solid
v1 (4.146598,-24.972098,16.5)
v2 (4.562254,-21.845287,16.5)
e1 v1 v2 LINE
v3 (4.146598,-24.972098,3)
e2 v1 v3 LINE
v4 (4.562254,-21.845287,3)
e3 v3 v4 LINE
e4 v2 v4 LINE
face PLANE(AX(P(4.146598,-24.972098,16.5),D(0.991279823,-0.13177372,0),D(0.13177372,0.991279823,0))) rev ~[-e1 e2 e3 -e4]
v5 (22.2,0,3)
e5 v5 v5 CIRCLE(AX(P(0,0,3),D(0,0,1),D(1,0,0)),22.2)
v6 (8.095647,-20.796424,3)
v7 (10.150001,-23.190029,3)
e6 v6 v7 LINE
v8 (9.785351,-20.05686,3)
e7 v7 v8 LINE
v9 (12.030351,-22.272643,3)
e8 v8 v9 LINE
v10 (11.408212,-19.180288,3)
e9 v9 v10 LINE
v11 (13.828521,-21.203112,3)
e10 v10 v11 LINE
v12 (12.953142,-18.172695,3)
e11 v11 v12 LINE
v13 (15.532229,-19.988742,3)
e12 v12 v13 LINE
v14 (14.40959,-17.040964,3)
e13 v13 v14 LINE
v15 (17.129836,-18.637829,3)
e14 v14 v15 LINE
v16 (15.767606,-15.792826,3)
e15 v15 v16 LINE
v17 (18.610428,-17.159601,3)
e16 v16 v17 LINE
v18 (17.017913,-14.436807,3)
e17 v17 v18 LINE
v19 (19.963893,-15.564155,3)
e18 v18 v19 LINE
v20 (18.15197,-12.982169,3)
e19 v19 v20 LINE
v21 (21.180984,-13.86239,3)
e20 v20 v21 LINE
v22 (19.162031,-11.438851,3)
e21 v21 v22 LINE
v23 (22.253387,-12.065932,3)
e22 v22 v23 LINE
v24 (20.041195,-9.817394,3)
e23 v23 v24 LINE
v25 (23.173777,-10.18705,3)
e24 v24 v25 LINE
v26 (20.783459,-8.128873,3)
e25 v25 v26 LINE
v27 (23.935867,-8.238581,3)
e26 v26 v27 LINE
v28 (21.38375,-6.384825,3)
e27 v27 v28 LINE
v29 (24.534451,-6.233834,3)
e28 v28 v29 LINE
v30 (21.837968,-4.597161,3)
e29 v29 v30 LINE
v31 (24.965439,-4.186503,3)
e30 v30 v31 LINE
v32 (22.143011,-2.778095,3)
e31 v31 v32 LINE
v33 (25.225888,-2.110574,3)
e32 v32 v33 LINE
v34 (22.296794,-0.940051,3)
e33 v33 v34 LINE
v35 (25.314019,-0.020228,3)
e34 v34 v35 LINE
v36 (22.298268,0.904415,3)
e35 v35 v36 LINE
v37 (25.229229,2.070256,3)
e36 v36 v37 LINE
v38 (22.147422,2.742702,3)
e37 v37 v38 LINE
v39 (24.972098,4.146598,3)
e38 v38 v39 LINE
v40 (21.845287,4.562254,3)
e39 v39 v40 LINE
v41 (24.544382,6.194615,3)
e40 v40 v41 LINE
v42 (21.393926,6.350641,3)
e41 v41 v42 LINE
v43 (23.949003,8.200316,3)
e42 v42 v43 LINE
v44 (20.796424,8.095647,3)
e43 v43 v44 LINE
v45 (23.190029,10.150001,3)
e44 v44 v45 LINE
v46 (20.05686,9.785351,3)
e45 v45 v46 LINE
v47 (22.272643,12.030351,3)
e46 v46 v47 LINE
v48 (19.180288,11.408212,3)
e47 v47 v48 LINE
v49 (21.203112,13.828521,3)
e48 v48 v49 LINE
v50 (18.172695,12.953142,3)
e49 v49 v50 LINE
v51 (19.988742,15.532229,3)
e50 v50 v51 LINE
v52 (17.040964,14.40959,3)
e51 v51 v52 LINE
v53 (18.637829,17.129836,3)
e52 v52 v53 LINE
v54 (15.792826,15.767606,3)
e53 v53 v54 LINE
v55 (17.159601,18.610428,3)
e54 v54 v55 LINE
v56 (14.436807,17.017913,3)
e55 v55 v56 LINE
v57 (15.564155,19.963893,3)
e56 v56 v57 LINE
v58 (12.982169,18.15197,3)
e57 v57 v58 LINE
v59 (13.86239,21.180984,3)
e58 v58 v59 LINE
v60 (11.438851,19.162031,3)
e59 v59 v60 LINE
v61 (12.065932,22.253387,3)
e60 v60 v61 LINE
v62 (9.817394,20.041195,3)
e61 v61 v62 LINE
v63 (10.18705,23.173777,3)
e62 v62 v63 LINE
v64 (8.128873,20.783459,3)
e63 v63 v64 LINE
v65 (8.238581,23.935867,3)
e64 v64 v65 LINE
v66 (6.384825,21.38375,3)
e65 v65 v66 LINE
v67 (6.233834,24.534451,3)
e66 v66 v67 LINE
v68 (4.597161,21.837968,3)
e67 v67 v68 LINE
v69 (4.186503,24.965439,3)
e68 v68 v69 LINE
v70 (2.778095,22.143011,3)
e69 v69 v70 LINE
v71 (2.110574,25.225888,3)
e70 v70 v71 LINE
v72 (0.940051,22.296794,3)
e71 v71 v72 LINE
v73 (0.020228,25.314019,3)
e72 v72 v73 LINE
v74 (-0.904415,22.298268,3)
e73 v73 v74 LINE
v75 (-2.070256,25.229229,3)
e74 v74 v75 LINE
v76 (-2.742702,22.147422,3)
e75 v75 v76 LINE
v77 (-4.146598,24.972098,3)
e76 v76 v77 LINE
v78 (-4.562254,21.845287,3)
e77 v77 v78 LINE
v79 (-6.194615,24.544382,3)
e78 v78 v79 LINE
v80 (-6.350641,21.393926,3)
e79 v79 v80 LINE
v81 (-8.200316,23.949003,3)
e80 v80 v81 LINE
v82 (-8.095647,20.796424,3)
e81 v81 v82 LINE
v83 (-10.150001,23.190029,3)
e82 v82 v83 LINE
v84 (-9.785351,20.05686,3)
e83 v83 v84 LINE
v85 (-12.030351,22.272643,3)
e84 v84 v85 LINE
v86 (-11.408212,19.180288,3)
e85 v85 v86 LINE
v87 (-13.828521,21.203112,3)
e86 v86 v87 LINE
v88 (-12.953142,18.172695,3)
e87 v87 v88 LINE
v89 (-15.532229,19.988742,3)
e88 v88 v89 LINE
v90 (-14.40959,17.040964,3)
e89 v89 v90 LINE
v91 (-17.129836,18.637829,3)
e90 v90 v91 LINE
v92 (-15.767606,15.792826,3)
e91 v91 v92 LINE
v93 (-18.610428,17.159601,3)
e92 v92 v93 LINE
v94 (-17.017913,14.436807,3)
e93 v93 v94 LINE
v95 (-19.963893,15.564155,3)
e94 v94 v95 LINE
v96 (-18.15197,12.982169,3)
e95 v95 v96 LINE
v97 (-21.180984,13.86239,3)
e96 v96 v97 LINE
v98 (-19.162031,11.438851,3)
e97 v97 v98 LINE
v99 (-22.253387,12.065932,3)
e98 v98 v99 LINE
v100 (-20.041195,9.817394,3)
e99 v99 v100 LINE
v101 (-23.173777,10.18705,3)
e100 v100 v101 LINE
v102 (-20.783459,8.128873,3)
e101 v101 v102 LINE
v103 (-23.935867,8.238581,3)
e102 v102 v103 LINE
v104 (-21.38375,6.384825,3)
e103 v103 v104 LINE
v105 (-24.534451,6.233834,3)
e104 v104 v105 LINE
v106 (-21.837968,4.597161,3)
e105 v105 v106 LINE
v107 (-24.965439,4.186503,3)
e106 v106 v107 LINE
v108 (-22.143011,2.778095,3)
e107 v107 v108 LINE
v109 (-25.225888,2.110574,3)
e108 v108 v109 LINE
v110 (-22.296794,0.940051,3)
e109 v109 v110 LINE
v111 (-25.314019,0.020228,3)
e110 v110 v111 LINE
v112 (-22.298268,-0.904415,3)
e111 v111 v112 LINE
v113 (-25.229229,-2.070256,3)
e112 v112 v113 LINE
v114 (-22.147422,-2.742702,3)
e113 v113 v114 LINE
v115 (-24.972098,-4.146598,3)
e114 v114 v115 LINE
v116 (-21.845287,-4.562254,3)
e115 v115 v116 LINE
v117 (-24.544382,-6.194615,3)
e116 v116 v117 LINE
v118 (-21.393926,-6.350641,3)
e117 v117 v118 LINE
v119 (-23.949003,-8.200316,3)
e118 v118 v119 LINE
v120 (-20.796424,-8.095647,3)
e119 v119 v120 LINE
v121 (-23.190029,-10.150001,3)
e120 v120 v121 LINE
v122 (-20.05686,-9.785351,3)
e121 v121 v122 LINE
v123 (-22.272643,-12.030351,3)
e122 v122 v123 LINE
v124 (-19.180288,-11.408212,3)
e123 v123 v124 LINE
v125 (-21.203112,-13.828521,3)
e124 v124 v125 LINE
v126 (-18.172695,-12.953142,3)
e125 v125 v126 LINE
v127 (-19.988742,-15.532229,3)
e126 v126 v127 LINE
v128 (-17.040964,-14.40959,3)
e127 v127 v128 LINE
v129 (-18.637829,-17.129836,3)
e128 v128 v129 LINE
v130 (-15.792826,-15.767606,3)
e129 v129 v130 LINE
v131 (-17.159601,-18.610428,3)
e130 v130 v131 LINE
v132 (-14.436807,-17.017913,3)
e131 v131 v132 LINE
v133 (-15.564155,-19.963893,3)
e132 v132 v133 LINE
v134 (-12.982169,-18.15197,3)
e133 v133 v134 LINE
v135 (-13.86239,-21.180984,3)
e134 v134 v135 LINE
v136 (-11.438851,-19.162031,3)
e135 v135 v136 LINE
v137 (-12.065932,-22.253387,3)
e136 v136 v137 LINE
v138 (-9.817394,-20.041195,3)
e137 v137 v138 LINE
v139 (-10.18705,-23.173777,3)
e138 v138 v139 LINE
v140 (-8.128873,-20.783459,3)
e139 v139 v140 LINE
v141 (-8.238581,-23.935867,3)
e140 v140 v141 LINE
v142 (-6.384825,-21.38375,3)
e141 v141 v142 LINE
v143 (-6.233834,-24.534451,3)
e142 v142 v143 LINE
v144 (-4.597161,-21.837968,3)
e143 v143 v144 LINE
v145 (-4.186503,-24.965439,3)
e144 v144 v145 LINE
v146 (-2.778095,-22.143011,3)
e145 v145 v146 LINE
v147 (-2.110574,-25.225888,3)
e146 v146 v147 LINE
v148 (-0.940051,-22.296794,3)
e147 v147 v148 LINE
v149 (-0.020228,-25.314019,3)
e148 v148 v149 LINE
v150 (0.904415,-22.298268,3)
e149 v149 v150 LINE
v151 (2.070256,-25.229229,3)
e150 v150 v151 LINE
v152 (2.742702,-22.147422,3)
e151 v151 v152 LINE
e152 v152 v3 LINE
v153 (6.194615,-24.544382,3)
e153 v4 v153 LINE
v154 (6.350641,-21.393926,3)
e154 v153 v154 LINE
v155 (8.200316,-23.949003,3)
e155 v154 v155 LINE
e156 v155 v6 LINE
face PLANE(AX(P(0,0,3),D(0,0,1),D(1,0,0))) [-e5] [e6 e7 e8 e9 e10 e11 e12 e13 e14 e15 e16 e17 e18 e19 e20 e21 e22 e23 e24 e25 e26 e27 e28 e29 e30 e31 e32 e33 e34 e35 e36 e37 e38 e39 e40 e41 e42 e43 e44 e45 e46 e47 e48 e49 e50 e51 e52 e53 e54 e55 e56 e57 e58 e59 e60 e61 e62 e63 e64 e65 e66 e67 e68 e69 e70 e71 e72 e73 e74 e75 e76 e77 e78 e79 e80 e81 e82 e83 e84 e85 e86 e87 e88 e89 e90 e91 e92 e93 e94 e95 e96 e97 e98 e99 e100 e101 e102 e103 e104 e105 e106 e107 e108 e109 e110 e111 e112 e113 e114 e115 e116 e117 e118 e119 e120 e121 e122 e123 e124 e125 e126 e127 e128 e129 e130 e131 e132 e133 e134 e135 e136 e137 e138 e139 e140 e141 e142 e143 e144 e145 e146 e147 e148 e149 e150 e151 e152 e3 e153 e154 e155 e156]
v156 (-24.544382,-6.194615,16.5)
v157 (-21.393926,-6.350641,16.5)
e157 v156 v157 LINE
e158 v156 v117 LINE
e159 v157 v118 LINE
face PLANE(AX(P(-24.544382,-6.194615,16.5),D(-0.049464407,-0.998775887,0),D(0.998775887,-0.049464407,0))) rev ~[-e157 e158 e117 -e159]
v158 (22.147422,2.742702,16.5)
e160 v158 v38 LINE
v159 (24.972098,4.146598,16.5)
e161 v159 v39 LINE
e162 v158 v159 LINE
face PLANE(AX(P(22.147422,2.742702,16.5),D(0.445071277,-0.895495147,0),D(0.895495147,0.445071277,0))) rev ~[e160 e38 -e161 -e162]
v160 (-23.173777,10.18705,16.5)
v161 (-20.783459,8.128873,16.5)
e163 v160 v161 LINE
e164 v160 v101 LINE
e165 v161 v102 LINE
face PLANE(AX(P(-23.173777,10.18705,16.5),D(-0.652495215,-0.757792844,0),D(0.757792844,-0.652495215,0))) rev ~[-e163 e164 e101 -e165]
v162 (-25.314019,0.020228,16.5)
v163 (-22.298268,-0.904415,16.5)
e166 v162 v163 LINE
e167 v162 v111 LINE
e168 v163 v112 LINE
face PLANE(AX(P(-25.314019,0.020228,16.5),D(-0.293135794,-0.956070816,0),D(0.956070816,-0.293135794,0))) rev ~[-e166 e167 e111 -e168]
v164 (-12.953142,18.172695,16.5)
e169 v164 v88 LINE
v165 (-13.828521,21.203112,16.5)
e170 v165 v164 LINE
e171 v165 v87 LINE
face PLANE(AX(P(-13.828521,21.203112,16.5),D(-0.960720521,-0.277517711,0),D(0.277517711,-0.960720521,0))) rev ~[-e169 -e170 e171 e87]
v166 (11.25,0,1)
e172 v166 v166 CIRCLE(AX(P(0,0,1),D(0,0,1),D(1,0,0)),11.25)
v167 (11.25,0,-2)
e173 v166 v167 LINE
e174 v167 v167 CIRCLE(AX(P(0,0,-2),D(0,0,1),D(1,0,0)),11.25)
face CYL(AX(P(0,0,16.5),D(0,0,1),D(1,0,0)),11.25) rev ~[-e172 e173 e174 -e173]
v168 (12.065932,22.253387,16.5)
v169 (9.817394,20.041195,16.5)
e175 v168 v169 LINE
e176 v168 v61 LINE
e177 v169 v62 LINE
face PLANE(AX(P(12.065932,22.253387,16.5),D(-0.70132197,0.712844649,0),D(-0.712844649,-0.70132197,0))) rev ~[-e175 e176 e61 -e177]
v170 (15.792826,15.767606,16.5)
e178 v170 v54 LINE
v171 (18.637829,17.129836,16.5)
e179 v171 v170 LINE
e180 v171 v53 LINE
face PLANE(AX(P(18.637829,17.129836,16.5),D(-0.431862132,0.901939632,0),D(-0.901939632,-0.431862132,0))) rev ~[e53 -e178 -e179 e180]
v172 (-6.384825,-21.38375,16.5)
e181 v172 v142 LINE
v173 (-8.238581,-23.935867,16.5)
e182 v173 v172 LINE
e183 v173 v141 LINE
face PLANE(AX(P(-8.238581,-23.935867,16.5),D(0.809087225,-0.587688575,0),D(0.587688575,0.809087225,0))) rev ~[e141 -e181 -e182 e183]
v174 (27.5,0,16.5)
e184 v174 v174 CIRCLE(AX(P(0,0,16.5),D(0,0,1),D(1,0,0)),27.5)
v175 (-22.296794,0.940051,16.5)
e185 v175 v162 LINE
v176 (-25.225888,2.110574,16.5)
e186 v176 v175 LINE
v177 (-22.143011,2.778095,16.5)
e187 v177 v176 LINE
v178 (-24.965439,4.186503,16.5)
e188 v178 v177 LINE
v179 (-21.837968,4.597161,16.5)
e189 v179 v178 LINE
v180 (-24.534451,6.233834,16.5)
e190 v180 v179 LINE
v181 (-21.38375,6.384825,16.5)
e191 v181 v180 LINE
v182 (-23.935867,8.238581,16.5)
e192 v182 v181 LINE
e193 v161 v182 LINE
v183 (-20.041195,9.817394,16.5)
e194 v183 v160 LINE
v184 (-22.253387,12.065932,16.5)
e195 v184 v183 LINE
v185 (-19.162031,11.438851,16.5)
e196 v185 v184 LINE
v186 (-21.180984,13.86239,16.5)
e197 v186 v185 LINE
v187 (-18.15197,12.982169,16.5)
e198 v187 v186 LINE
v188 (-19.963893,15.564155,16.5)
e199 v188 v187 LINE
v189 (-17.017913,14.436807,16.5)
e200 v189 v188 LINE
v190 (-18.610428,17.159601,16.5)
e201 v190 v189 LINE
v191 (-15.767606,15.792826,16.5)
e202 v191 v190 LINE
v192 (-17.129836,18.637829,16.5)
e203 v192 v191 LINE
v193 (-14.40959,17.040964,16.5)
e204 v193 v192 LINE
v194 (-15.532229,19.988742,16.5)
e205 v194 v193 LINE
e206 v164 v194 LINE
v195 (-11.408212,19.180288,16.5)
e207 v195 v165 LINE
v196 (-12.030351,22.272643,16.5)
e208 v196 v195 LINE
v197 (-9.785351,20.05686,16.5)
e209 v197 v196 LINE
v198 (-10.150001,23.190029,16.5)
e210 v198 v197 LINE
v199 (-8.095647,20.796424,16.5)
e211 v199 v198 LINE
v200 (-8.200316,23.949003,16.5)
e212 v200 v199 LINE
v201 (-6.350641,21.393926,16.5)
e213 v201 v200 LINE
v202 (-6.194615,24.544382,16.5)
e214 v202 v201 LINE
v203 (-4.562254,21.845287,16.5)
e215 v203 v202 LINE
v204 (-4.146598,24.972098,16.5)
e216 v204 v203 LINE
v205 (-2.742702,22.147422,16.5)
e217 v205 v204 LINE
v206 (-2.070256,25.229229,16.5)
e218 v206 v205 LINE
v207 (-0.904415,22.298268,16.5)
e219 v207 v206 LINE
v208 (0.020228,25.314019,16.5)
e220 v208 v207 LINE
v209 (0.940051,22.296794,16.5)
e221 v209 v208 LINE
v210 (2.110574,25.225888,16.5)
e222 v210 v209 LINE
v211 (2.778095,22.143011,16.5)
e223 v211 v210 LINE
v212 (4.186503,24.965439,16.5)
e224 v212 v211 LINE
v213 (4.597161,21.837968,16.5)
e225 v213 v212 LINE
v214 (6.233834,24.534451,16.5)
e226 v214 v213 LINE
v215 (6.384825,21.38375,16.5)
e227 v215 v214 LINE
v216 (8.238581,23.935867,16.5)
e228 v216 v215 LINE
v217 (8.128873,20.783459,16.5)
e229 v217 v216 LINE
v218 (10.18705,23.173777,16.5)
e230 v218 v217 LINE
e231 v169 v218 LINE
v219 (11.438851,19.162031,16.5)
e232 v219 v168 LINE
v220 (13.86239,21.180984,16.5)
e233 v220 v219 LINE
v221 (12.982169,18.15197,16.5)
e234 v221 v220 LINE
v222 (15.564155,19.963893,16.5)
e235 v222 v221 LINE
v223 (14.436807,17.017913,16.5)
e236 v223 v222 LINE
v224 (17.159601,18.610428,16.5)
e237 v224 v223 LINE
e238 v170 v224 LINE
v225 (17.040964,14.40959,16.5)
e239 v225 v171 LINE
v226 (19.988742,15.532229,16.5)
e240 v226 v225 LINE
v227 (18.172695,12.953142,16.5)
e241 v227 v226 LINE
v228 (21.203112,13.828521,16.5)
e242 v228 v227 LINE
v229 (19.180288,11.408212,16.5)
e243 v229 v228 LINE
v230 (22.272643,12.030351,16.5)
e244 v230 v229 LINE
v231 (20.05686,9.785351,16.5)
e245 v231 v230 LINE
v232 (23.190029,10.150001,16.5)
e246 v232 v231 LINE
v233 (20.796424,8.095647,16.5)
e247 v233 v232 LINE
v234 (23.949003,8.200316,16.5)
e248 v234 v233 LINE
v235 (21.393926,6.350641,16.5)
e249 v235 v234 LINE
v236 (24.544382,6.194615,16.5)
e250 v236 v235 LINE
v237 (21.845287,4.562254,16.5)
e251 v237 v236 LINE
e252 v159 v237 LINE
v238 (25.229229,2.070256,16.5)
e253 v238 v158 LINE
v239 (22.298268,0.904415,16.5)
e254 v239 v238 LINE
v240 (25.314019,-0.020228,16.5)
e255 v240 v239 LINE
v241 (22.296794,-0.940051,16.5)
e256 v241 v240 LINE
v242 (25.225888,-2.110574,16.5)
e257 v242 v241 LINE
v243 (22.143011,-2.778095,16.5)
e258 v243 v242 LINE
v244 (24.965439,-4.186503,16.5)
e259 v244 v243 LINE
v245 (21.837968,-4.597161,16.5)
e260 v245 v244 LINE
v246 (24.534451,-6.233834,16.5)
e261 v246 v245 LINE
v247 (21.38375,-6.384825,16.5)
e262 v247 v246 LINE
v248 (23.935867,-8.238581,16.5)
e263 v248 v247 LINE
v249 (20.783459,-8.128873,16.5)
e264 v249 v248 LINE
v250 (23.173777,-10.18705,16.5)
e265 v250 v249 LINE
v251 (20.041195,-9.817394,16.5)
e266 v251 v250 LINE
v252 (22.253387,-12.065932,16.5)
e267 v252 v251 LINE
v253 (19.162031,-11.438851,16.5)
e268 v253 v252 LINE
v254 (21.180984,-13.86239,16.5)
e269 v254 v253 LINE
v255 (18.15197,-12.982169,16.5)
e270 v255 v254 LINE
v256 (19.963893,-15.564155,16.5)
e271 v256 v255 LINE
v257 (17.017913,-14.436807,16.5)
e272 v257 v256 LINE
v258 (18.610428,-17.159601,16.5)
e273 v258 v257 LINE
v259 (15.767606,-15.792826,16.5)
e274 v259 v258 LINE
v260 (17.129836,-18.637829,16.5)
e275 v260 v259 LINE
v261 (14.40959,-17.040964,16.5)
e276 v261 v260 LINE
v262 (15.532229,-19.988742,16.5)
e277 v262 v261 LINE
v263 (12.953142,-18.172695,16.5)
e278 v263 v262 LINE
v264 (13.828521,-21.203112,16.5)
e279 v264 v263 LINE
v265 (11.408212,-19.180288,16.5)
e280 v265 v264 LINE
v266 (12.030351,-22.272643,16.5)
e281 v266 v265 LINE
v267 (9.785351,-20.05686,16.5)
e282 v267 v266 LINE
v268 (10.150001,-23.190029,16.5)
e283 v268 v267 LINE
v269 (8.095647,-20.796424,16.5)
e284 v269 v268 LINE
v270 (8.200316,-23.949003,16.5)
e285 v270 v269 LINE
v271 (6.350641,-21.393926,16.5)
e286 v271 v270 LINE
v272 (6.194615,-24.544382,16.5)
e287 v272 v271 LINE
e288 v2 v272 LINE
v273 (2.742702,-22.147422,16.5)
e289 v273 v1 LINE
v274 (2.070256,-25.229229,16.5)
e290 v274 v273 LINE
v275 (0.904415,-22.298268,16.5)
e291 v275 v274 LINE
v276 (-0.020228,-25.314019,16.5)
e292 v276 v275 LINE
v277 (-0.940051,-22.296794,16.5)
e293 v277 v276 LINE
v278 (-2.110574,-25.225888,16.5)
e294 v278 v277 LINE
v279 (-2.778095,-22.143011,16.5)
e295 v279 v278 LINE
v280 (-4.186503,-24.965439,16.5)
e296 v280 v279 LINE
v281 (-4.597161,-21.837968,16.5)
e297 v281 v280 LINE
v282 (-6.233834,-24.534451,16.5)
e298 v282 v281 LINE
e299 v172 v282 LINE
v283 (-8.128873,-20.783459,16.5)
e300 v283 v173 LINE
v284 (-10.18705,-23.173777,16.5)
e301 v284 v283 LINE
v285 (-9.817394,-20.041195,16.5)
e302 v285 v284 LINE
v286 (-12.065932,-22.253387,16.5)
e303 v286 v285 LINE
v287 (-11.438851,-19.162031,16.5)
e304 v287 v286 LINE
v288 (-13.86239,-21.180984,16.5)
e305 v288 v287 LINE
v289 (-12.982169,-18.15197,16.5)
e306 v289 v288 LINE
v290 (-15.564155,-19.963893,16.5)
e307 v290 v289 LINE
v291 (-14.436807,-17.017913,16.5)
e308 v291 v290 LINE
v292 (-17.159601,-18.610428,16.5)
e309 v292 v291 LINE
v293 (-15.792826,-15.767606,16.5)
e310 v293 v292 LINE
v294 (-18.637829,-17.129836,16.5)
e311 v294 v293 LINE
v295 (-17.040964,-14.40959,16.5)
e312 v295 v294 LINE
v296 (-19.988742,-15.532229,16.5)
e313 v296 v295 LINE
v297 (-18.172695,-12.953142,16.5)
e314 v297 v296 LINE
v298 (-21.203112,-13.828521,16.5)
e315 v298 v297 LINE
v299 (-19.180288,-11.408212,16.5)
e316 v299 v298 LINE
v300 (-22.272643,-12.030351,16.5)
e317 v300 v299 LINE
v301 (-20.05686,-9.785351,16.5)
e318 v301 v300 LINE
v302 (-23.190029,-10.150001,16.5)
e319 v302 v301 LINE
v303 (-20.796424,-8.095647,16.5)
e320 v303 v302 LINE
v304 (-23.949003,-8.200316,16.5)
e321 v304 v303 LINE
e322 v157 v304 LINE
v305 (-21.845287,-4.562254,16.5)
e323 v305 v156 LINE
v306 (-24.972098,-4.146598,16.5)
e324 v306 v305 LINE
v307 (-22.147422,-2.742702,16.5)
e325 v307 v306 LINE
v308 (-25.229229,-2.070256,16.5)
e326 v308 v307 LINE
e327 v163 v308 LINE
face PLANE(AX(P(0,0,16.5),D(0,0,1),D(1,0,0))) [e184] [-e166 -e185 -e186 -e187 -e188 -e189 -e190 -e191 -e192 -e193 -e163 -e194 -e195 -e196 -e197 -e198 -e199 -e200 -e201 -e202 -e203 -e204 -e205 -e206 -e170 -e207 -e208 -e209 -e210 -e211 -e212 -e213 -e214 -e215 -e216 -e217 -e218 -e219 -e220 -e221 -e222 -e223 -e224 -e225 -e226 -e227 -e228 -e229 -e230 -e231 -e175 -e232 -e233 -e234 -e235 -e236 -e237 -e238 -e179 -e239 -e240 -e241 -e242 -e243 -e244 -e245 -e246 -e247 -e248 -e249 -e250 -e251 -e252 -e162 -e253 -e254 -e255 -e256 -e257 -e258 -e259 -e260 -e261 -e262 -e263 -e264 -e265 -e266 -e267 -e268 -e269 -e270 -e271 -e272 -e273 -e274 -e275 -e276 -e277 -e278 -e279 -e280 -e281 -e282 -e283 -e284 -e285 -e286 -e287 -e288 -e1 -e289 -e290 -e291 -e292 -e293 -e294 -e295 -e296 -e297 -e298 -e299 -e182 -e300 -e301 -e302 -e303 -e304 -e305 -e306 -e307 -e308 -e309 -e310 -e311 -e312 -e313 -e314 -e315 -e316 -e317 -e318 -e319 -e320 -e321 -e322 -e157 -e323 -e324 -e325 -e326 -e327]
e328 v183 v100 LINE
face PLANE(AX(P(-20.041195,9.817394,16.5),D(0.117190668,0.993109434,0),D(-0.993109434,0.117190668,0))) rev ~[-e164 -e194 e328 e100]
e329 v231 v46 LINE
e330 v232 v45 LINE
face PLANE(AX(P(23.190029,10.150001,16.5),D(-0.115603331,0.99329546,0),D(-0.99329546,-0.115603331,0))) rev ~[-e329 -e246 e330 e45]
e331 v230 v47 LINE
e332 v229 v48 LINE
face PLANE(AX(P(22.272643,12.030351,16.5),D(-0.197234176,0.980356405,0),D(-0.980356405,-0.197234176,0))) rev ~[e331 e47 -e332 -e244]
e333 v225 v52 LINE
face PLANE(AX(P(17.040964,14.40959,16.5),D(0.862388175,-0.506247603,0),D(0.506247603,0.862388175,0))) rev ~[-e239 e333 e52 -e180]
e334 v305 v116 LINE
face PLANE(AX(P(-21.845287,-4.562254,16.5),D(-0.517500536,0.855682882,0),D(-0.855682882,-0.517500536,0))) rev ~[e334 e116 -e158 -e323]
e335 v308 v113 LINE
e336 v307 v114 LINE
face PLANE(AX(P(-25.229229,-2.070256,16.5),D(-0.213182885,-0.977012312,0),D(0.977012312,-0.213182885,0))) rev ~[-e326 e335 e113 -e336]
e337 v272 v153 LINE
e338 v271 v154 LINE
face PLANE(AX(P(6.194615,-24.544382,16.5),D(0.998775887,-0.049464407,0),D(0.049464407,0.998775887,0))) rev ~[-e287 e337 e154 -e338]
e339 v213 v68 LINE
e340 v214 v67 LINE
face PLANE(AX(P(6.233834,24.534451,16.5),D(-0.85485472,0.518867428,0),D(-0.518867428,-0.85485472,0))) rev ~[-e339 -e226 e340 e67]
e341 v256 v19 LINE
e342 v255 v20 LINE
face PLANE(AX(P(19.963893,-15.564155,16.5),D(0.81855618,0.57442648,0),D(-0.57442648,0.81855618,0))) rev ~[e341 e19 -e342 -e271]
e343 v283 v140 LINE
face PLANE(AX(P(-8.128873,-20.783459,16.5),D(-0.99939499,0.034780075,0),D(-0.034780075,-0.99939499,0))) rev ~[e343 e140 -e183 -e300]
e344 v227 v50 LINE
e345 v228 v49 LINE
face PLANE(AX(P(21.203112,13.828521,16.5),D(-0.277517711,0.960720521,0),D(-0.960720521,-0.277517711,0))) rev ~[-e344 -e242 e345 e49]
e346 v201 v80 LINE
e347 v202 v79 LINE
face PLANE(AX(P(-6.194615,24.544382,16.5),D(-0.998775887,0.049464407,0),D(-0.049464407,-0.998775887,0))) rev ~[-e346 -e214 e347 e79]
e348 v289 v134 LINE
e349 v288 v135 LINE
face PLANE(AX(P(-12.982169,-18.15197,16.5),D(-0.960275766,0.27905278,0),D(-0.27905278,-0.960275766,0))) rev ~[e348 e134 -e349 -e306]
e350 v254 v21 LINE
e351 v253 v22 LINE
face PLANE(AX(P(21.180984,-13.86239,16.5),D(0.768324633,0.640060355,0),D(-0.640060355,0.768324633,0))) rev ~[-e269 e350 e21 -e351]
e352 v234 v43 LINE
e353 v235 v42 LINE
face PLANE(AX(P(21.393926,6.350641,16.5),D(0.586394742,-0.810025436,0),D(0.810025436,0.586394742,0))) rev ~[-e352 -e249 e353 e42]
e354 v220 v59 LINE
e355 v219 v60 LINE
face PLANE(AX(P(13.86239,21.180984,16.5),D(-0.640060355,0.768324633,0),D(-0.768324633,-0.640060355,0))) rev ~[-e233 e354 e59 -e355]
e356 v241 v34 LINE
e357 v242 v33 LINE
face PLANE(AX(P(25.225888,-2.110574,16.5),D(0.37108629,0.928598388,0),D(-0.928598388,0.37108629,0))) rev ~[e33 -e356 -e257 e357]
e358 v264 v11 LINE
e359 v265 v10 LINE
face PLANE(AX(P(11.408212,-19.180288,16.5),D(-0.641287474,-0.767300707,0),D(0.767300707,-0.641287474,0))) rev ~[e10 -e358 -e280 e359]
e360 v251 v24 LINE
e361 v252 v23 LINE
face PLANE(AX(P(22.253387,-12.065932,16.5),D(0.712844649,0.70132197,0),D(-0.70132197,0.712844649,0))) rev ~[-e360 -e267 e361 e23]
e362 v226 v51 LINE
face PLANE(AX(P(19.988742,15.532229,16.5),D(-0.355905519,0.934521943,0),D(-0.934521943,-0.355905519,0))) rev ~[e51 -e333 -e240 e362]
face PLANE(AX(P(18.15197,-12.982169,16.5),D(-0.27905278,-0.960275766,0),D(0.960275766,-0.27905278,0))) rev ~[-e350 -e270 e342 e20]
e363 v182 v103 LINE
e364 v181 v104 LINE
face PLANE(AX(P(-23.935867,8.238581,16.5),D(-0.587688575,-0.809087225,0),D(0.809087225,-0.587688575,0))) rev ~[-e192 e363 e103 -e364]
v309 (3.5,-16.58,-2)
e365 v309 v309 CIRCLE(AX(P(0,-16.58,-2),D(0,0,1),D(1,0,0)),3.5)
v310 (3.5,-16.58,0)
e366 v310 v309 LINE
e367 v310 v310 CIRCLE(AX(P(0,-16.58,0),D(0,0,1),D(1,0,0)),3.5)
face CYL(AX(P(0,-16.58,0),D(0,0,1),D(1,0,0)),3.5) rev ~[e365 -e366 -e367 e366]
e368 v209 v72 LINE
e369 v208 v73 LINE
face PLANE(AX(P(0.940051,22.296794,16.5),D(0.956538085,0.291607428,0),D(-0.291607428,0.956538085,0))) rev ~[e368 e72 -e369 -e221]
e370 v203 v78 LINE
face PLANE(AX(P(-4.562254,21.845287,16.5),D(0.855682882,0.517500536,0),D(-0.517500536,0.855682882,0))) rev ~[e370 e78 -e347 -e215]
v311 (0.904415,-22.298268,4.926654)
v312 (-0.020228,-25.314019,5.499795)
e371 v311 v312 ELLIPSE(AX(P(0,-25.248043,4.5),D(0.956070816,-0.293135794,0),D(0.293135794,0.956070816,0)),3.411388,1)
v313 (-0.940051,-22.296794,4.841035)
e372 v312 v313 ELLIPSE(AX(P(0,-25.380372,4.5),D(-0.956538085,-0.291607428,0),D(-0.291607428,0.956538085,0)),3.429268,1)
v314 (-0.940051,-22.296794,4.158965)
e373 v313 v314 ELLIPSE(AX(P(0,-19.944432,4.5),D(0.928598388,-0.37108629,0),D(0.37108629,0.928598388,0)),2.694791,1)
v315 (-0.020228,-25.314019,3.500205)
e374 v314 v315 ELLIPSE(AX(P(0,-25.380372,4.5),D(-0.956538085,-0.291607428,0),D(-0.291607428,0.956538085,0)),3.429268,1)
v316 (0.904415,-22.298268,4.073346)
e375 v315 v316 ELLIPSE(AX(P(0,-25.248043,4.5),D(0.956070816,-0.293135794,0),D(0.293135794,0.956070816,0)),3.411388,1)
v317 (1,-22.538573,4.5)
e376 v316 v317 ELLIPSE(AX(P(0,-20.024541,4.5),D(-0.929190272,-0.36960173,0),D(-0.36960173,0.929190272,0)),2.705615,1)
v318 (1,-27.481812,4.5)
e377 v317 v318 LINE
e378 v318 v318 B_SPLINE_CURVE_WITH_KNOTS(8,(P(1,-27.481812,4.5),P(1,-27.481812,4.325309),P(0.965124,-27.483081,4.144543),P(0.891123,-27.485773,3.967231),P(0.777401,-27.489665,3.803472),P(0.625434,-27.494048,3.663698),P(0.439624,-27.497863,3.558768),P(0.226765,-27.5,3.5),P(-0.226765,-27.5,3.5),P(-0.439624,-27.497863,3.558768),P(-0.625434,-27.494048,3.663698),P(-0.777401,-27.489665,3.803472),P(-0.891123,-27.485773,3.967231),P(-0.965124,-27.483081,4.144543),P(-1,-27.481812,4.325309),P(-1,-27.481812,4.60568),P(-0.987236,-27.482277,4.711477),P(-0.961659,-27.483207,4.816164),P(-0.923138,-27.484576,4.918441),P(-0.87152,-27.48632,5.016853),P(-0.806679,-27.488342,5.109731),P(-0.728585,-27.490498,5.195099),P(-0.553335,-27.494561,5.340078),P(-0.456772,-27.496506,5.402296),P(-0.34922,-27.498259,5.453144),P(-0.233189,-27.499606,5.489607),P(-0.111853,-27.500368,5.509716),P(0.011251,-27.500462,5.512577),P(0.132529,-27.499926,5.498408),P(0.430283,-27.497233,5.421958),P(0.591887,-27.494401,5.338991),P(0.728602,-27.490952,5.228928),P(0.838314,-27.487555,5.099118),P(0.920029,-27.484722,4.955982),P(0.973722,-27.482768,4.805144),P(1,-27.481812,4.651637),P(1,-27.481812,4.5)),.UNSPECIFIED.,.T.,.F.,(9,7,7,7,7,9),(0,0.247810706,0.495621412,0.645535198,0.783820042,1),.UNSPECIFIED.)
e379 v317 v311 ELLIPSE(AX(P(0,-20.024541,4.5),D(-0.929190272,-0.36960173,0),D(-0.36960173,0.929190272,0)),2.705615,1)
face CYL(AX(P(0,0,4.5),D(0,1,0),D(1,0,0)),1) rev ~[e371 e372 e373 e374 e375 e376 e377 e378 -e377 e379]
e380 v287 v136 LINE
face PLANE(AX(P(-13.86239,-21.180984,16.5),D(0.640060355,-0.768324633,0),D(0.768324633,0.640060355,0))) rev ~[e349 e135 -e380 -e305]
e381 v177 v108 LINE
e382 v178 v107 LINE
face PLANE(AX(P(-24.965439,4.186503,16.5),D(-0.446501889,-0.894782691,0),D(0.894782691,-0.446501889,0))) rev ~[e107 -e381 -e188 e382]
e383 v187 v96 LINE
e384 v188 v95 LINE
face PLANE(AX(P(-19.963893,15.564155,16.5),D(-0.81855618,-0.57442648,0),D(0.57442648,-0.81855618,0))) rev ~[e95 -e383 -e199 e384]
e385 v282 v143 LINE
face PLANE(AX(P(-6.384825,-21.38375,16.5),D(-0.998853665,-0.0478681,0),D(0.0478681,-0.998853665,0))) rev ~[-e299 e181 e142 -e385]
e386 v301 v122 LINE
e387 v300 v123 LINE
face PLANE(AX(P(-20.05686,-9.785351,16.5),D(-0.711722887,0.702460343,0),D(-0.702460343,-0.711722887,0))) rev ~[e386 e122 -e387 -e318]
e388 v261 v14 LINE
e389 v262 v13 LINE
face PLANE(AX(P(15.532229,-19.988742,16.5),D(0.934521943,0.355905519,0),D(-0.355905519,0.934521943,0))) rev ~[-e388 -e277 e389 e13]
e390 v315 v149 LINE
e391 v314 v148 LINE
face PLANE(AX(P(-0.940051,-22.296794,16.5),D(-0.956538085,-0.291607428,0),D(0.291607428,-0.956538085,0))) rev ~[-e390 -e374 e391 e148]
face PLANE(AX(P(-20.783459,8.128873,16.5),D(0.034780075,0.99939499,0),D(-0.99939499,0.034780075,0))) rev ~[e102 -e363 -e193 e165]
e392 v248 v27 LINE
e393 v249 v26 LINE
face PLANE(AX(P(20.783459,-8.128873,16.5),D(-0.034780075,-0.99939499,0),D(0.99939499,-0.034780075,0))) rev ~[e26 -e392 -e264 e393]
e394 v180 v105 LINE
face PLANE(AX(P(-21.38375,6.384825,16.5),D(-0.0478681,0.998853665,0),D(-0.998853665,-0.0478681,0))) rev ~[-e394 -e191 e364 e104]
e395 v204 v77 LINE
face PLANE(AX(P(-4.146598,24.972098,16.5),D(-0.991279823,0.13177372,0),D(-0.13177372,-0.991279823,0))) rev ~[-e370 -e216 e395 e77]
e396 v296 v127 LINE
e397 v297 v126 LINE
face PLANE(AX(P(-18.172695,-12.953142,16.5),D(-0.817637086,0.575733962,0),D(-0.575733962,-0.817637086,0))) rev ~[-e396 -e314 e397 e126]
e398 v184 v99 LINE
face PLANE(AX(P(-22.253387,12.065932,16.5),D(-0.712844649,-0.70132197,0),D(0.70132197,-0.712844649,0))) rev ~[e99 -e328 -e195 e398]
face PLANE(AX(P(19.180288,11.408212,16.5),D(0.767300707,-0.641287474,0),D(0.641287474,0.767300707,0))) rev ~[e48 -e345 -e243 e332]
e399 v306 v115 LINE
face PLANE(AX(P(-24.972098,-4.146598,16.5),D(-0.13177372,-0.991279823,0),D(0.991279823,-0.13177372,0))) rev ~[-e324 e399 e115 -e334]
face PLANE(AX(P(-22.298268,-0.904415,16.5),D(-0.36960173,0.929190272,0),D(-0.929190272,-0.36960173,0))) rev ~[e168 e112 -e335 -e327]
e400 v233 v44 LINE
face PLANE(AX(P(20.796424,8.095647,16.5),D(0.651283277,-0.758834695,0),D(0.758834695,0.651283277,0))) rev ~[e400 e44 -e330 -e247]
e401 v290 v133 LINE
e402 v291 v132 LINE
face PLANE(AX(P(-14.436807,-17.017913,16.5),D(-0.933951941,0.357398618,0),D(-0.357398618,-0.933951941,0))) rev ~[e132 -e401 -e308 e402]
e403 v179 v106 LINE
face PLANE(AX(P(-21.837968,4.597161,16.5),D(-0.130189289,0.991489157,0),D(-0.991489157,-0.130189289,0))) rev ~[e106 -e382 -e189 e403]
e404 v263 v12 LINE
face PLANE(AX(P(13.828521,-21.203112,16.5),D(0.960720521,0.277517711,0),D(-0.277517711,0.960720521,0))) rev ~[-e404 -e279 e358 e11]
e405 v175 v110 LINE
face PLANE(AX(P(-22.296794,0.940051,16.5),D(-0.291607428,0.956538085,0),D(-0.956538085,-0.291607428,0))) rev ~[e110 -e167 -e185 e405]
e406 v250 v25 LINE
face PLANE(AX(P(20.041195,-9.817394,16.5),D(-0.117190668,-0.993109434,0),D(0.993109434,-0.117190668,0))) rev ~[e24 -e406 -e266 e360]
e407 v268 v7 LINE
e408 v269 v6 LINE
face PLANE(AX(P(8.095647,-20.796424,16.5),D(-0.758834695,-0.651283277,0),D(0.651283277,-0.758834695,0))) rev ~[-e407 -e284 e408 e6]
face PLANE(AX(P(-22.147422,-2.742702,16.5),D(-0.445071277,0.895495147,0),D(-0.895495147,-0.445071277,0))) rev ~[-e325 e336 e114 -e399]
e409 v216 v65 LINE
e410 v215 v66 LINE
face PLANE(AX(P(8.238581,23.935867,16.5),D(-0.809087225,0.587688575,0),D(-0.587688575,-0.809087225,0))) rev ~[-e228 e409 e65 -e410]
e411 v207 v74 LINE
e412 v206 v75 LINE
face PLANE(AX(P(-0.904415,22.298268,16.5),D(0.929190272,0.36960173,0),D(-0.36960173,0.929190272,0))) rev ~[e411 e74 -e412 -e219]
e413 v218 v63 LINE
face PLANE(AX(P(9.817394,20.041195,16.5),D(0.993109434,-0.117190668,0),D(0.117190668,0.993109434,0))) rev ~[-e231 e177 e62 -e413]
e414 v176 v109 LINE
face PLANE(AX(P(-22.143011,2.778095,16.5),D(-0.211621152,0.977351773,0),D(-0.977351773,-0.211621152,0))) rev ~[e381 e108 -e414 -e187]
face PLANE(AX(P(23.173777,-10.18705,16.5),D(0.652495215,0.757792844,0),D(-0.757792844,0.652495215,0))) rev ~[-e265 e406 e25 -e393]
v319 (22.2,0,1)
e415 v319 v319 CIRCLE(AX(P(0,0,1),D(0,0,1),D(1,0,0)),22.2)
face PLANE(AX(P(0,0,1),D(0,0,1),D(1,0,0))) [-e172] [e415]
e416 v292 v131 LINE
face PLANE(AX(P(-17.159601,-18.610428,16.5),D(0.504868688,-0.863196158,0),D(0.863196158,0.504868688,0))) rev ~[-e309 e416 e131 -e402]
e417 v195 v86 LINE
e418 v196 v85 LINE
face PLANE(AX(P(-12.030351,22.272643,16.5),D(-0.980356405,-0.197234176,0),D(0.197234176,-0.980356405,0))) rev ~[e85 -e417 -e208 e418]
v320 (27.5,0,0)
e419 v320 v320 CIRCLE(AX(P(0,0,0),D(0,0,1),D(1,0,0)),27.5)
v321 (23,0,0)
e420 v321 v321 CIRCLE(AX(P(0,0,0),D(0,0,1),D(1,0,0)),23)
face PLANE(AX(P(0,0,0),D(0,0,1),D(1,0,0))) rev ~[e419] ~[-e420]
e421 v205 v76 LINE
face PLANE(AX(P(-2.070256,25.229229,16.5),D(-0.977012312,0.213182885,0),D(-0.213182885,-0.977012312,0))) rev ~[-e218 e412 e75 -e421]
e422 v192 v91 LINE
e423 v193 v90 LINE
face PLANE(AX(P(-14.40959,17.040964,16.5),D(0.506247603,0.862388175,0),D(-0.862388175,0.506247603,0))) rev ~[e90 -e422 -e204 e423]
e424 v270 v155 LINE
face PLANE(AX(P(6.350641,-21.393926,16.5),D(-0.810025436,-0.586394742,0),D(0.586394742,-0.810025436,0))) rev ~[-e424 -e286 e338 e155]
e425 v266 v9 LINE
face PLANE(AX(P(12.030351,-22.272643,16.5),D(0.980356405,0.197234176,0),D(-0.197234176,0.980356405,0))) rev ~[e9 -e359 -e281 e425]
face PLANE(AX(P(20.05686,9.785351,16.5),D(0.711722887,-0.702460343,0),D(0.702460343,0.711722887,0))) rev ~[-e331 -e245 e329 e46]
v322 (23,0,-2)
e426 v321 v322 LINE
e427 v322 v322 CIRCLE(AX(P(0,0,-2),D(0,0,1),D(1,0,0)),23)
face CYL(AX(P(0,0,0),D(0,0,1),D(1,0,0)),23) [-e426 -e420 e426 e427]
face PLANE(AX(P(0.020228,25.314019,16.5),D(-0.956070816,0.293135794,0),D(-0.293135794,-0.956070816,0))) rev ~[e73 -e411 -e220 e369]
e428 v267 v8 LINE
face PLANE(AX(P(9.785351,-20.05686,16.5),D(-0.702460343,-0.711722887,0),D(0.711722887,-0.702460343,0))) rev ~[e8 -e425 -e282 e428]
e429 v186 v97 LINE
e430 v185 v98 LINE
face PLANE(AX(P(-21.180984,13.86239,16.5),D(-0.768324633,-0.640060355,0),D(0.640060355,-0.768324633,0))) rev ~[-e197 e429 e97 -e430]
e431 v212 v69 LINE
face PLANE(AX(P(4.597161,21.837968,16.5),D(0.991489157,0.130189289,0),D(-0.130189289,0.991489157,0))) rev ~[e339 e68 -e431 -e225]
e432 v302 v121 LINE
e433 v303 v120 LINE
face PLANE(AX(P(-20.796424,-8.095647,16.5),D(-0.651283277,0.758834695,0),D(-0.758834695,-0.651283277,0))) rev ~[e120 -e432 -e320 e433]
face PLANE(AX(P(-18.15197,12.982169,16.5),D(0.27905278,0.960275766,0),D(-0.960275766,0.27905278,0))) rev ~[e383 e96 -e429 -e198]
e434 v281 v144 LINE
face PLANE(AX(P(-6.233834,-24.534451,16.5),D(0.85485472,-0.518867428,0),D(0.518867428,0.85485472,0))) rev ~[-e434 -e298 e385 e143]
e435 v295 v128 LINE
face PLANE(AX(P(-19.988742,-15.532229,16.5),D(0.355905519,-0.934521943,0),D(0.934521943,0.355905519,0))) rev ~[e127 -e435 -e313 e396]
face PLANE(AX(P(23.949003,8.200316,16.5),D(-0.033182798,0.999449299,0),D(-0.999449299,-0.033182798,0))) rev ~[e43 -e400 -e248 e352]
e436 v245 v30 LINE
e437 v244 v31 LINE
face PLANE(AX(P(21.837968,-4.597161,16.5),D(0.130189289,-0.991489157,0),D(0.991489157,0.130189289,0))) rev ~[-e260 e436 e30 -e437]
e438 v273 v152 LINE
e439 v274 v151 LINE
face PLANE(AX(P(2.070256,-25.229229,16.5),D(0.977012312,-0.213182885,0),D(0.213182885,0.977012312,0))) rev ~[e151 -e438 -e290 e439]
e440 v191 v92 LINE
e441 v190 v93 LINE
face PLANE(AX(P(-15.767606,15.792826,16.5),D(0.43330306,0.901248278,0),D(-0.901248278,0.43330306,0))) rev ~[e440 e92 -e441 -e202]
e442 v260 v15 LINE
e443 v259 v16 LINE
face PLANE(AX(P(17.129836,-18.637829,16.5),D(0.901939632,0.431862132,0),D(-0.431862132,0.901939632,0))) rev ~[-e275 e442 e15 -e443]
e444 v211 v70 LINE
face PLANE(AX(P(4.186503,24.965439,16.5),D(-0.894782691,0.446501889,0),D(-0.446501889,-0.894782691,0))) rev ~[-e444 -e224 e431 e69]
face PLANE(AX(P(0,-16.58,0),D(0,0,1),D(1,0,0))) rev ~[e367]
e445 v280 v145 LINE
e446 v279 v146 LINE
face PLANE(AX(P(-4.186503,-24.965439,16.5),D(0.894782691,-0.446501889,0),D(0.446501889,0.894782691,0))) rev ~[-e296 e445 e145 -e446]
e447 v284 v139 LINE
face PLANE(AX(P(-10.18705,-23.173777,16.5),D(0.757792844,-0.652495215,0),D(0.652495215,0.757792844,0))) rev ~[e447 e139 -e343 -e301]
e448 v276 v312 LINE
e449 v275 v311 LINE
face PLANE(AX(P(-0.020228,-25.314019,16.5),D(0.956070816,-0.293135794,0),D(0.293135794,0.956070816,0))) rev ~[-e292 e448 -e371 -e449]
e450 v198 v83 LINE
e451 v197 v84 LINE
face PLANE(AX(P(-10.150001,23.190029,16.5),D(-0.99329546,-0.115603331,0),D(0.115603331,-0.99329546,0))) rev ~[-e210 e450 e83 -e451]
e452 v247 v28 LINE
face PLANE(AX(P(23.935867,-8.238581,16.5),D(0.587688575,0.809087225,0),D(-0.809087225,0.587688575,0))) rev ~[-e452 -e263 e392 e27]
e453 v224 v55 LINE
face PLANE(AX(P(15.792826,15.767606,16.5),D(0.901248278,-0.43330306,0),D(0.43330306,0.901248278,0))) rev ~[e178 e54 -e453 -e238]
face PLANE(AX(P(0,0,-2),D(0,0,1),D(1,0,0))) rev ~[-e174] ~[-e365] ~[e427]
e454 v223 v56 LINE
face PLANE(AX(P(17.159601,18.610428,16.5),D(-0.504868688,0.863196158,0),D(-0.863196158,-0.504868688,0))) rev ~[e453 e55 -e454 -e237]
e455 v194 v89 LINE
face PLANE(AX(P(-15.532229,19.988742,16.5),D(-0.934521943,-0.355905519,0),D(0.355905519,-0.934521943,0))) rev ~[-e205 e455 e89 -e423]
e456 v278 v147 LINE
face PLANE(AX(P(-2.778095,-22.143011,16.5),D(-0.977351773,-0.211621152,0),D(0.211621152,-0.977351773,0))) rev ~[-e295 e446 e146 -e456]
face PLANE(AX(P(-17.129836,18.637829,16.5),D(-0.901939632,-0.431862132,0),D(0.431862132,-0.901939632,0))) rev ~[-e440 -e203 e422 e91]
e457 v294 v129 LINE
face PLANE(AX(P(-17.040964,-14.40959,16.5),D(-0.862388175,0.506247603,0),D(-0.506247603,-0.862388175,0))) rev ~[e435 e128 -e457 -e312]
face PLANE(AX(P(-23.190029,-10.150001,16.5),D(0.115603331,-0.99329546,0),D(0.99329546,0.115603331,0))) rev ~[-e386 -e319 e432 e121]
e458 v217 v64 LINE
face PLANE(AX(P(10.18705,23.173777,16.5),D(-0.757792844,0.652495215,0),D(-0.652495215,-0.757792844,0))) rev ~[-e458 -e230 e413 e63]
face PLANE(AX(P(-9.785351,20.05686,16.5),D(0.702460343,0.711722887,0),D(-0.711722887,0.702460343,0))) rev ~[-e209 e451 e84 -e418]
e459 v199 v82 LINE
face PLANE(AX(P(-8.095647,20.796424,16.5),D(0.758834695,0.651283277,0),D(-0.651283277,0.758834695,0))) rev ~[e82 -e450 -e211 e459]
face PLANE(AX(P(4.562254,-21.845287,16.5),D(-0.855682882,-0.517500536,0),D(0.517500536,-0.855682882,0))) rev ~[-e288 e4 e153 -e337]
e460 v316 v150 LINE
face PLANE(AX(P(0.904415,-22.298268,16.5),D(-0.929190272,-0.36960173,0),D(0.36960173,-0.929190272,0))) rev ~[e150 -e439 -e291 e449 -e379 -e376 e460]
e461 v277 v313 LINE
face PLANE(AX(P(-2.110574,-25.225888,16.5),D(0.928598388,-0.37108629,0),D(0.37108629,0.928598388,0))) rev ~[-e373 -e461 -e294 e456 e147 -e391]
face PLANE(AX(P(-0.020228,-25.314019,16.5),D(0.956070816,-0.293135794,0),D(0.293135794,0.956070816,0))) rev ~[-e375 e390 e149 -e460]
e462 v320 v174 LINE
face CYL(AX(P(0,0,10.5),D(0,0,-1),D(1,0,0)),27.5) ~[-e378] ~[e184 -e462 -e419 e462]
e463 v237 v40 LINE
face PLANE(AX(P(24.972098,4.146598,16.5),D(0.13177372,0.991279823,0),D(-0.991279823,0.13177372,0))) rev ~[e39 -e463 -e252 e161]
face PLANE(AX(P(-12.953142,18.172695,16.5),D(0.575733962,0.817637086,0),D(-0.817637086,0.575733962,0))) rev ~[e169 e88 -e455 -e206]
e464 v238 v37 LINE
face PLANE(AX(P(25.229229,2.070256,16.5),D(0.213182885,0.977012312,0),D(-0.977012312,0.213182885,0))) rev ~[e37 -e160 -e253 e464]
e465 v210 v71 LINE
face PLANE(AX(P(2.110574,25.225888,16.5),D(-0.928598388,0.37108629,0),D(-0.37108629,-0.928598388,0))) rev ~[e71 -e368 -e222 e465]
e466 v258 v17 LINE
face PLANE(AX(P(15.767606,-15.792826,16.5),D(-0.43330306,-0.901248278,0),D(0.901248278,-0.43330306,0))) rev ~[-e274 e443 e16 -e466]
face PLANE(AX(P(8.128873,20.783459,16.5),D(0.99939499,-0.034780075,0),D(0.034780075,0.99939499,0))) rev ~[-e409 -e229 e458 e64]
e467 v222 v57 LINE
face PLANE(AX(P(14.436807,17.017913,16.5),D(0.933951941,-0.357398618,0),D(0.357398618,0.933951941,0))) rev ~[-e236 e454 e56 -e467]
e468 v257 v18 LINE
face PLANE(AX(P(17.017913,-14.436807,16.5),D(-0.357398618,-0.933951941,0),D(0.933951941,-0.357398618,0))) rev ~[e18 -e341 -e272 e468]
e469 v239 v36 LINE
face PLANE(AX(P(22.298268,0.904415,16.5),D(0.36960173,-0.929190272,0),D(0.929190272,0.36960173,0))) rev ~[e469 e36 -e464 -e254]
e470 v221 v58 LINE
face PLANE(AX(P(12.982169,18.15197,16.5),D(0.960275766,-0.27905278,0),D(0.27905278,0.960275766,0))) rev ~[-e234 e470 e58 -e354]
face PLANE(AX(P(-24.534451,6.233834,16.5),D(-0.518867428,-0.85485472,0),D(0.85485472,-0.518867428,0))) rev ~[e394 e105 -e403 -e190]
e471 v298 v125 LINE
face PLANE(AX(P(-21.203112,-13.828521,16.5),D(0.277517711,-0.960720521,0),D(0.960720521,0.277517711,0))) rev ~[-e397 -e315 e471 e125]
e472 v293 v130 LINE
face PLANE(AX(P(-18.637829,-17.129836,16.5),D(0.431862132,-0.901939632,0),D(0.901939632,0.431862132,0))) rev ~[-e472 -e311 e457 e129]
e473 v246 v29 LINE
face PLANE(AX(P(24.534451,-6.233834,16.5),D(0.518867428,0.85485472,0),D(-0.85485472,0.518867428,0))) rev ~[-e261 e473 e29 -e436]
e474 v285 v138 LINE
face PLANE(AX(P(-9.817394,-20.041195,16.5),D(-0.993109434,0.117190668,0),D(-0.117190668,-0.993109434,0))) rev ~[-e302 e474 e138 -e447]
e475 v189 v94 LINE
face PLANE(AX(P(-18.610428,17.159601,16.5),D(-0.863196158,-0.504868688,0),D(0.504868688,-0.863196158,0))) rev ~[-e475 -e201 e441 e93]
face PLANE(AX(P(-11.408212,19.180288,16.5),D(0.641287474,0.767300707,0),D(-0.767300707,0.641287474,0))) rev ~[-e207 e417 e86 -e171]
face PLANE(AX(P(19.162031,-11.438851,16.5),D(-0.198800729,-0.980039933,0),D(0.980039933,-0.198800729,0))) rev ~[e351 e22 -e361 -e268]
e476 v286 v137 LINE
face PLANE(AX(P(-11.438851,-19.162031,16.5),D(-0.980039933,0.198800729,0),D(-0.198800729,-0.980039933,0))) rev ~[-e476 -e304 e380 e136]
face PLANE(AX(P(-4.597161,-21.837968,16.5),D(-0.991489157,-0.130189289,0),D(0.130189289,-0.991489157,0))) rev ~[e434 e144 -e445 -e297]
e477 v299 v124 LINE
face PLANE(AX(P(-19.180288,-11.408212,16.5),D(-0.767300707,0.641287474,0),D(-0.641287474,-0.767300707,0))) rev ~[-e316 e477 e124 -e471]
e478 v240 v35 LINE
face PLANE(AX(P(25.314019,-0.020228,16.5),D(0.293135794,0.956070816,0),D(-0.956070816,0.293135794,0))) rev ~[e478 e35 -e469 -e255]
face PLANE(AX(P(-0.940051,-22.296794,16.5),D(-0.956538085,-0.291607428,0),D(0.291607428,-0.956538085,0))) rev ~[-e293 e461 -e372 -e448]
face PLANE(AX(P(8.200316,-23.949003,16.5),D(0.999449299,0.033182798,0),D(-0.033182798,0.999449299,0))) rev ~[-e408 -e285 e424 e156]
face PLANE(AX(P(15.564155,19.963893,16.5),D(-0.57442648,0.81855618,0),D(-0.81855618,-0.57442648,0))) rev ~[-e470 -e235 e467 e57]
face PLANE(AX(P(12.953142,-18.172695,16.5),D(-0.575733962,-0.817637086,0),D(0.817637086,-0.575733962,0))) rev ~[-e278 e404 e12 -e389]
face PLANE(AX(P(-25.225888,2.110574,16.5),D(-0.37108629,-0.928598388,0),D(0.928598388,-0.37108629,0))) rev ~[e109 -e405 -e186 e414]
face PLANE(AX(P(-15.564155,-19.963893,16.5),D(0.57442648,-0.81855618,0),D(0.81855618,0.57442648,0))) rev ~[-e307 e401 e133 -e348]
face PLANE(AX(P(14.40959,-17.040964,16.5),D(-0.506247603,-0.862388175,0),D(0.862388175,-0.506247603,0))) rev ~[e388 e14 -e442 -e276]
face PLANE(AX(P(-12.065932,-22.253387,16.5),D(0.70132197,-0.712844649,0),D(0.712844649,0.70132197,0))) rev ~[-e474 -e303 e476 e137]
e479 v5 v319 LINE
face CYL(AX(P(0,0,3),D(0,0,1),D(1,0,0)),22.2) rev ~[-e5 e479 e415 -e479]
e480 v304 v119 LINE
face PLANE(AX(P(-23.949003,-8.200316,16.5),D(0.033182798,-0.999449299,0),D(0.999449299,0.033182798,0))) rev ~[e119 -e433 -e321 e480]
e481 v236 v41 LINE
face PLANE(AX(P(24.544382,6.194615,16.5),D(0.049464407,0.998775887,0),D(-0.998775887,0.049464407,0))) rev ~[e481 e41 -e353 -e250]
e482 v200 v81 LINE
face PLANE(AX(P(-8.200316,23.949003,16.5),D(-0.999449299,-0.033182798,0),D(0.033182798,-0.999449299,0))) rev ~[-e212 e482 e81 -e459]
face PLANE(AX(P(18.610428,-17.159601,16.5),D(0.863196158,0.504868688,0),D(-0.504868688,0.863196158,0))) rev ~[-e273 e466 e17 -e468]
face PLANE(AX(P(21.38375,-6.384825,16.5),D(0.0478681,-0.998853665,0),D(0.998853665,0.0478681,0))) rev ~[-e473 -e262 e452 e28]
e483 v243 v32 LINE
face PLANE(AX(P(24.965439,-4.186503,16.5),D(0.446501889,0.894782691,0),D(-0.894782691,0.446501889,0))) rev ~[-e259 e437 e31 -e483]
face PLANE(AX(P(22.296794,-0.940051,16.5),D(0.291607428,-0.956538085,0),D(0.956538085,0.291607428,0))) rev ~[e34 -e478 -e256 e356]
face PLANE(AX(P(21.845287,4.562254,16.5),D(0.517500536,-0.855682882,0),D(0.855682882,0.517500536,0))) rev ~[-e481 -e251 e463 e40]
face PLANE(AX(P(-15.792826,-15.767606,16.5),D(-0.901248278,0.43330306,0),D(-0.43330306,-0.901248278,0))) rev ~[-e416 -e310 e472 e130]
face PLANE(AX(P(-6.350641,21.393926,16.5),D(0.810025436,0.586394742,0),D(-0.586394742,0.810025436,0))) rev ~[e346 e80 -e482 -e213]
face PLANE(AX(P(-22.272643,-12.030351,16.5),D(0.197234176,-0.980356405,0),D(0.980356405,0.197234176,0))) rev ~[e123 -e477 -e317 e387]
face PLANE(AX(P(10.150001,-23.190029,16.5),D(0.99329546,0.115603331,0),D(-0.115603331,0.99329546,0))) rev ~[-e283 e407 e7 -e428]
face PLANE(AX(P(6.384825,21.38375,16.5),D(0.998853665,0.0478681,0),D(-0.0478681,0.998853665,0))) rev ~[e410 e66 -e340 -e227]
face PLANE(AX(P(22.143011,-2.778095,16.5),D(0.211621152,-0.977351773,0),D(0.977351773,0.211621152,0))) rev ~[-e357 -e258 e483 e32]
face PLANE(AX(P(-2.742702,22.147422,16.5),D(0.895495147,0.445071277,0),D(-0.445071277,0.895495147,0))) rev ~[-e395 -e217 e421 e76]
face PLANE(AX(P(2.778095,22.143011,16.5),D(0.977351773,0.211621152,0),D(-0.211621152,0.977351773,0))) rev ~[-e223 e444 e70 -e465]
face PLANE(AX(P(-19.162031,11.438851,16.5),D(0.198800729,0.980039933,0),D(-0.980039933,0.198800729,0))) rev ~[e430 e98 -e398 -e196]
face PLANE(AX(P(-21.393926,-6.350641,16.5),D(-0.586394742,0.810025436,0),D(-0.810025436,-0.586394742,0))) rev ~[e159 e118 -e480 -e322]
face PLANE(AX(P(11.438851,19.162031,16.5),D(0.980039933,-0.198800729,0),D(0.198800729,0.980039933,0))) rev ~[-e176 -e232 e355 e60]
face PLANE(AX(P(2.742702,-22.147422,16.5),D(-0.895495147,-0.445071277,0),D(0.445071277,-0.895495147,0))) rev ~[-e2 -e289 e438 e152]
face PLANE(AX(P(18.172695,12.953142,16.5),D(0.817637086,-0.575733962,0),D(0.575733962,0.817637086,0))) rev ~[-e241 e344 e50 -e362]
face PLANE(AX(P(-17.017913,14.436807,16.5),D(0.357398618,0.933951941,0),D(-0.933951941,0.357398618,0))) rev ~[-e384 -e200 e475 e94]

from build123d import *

# Parameters (mm, degrees)
SKETCH1_R           = 27.5
BOSS_EXTRUDE1_DEPTH = 6
BOSS_EXTRUDE2_START = 6
SKETCH2_R           = 27.5
BOSS_EXTRUDE2_DEPTH = 4.5
BOSS_EXTRUDE3_START = 10.5
SKETCH3_R           = 27.5
BOSS_EXTRUDE3_DEPTH = 6
CUT_EXTRUDE1_DEPTH  = 13.5
SKETCH10_R          = 23
BOSS_EXTRUDE4_DEPTH = 2
CUT_EXTRUDE7_START  = 16.5
SKETCH6_R           = 11.25
CUT_EXTRUDE7_DEPTH  = 19.5
CUT_EXTRUDE10_START = 3
SKETCH11_R          = 22.2
CUT_EXTRUDE10_DEPTH = 2
SKETCH12_R          = 1
CUT_EXTRUDE11_DEPTH = 28.5
SKETCH13_R          = 3.5
CUT_EXTRUDE12_DEPTH = 3


with BuildPart() as part:
    # Sketch1 → Boss-Extrude1 (new body)
    with BuildSketch(Plane.XY):
        Circle(SKETCH1_R)
    extrude(amount=BOSS_EXTRUDE1_DEPTH)

    # Sketch2 → Boss-Extrude2 (add)
    with BuildSketch(Plane.XY.offset(BOSS_EXTRUDE2_START)):
        Circle(SKETCH2_R)
    extrude(amount=BOSS_EXTRUDE2_DEPTH)

    # Sketch3 → Boss-Extrude3 (add)
    with BuildSketch(Plane.XY.offset(BOSS_EXTRUDE3_START)):
        Circle(SKETCH3_R)
    extrude(amount=BOSS_EXTRUDE3_DEPTH)

    # Sketch4 → Cut-Extrude1 (cut)
    with BuildSketch(Plane.XY.offset(16.5)):
        Polygon((8.200315972, -23.949003355), (8.095646912, -20.796423541), (10.150000757, -23.190028641), (9.785351218, -20.056859988), (12.030350745, -22.272642516), (11.408211652, -19.180287743), (13.828521239, -21.20311166), (12.953142433, -18.172694685), (15.532228911, -19.988742051), (14.409590118, -17.040963696), (17.12983571, -18.637829065), (15.76760569, -15.792825644), (18.610428362, -17.159600809), (17.017912527, -14.43680658), (19.963892917, -15.564155079), (18.151969766, -12.982169489), (21.18098384, -13.862390389), (19.162030646, -11.438851016), (22.253387167, -12.065931515), (20.041195426, -9.817393592), (23.173777294, -10.187050095), (20.78345852, -8.128873414), (23.935867025, -8.238580793), (21.383749518, -6.384824789), (24.534450513, -6.233833631), (21.837967824, -4.597161336), (24.965438827, -4.186503063), (22.143010666, -2.77809461), (25.225887879, -2.110574435), (22.296794293, -0.940050681), (25.314018538, -0.020228443), (22.298268206, 0.904414747), (25.229228782, 2.070255729), (22.147422337, 2.742702106), (24.972097812, 4.146597956), (21.845287117, 4.562254028), (24.544382092, 6.194614714), (21.393926434, 6.350641129), (23.949003355, 8.200315972), (20.796423541, 8.095646912), (23.190028641, 10.150000757), (20.056859988, 9.785351218), (22.272642516, 12.030350745), (19.180287743, 11.408211652), (21.20311166, 13.828521239), (18.172694685, 12.953142433), (19.988742051, 15.532228911), (17.040963696, 14.409590118), (18.637829065, 17.12983571), (15.792825644, 15.76760569), (17.159600809, 18.610428362), (14.43680658, 17.017912527), (15.564155079, 19.963892917), (12.982169489, 18.151969766), (13.862390389, 21.18098384), (11.438851016, 19.162030646), (12.065931515, 22.253387167), (9.817393592, 20.041195426), (10.187050095, 23.173777294), (8.128873414, 20.78345852), (8.238580793, 23.935867025), (6.384824789, 21.383749518), (6.233833631, 24.534450513), (4.597161336, 21.837967824), (4.186503063, 24.965438827), (2.77809461, 22.143010666), (2.110574435, 25.225887879), (0.940050681, 22.296794293), (0.020228443, 25.314018538), (-0.904414747, 22.298268206), (-2.070255729, 25.229228782), (-2.742702106, 22.147422337), (-4.146597956, 24.972097812), (-4.562254028, 21.845287117), (-6.194614714, 24.544382092), (-6.350641129, 21.393926434), (-8.200315972, 23.949003355), (-8.095646912, 20.796423541), (-10.150000757, 23.190028641), (-9.785351218, 20.056859988), (-12.030350745, 22.272642516), (-11.408211652, 19.180287743), (-13.828521239, 21.20311166), (-12.953142433, 18.172694685), (-15.532228911, 19.988742051), (-14.409590118, 17.040963696), (-17.12983571, 18.637829065), (-15.76760569, 15.792825644), (-18.610428362, 17.159600809), (-17.017912527, 14.43680658), (-19.963892917, 15.564155079), (-18.151969766, 12.982169489), (-21.18098384, 13.862390389), (-19.162030646, 11.438851016), (-22.253387167, 12.065931515), (-20.041195426, 9.817393592), (-23.173777294, 10.187050095), (-20.78345852, 8.128873414), (-23.935867025, 8.238580793), (-21.383749518, 6.384824789), (-24.534450513, 6.233833631), (-21.837967824, 4.597161336), (-24.965438827, 4.186503063), (-22.143010666, 2.77809461), (-25.225887879, 2.110574435), (-22.296794293, 0.940050681), (-25.314018538, 0.020228443), (-22.298268206, -0.904414747), (-25.229228782, -2.070255729), (-22.147422337, -2.742702106), (-24.972097812, -4.146597956), (-21.845287117, -4.562254028), (-24.544382092, -6.194614714), (-21.393926434, -6.350641129), (-23.949003355, -8.200315972), (-20.796423541, -8.095646912), (-23.190028641, -10.150000757), (-20.056859988, -9.785351218), (-22.272642516, -12.030350745), (-19.180287743, -11.408211652), (-21.20311166, -13.828521239), (-18.172694685, -12.953142433), (-19.988742051, -15.532228911), (-17.040963696, -14.409590118), (-18.637829065, -17.12983571), (-15.792825644, -15.76760569), (-17.159600809, -18.610428362), (-14.43680658, -17.017912527), (-15.564155079, -19.963892917), (-12.982169489, -18.151969766), (-13.862390389, -21.18098384), (-11.438851016, -19.162030646), (-12.065931515, -22.253387167), (-9.817393592, -20.041195426), (-10.187050095, -23.173777294), (-8.128873414, -20.78345852), (-8.238580793, -23.935867025), (-6.384824789, -21.383749518), (-6.233833631, -24.534450513), (-4.597161336, -21.837967824), (-4.186503063, -24.965438827), (-2.77809461, -22.143010666), (-2.110574435, -25.225887879), (-0.940050681, -22.296794293), (-0.020228443, -25.314018538), (0.904414747, -22.298268206), (2.070255729, -25.229228782), (2.742702106, -22.147422337), (4.146597956, -24.972097812), (4.562254028, -21.845287117), (6.194614714, -24.544382092), (6.350641129, -21.393926434), align=None)
    extrude(amount=-CUT_EXTRUDE1_DEPTH, mode=Mode.SUBTRACT)

    # Sketch10 → Boss-Extrude4 (add)
    with BuildSketch(Plane.XY):
        Circle(SKETCH10_R)
    extrude(amount=-BOSS_EXTRUDE4_DEPTH)

    # Sketch6 → Cut-Extrude7 (cut, through all)
    with BuildSketch(Plane.XY.offset(CUT_EXTRUDE7_START)):
        Circle(SKETCH6_R)
    extrude(amount=-CUT_EXTRUDE7_DEPTH, mode=Mode.SUBTRACT)

    # Sketch11 → Cut-Extrude10 (cut)
    with BuildSketch(Plane.XY.offset(CUT_EXTRUDE10_START)):
        Circle(SKETCH11_R)
    extrude(amount=-CUT_EXTRUDE10_DEPTH, mode=Mode.SUBTRACT)

    # Sketch12 → Cut-Extrude11 (cut, through all)
    with BuildSketch(Plane(origin=(0, 0, 0), x_dir=(1, 0, 0), z_dir=(0, 1, 0))):
        with Locations((0, -4.5)):
            Circle(SKETCH12_R)
    extrude(amount=-CUT_EXTRUDE11_DEPTH, mode=Mode.SUBTRACT)

    # Sketch13 → Cut-Extrude12 (cut, through all)
    with BuildSketch(Plane.XY):
        with Locations((0, -16.58)):
            Circle(SKETCH13_R)
    extrude(amount=-CUT_EXTRUDE12_DEPTH, mode=Mode.SUBTRACT)


solid = part.part
